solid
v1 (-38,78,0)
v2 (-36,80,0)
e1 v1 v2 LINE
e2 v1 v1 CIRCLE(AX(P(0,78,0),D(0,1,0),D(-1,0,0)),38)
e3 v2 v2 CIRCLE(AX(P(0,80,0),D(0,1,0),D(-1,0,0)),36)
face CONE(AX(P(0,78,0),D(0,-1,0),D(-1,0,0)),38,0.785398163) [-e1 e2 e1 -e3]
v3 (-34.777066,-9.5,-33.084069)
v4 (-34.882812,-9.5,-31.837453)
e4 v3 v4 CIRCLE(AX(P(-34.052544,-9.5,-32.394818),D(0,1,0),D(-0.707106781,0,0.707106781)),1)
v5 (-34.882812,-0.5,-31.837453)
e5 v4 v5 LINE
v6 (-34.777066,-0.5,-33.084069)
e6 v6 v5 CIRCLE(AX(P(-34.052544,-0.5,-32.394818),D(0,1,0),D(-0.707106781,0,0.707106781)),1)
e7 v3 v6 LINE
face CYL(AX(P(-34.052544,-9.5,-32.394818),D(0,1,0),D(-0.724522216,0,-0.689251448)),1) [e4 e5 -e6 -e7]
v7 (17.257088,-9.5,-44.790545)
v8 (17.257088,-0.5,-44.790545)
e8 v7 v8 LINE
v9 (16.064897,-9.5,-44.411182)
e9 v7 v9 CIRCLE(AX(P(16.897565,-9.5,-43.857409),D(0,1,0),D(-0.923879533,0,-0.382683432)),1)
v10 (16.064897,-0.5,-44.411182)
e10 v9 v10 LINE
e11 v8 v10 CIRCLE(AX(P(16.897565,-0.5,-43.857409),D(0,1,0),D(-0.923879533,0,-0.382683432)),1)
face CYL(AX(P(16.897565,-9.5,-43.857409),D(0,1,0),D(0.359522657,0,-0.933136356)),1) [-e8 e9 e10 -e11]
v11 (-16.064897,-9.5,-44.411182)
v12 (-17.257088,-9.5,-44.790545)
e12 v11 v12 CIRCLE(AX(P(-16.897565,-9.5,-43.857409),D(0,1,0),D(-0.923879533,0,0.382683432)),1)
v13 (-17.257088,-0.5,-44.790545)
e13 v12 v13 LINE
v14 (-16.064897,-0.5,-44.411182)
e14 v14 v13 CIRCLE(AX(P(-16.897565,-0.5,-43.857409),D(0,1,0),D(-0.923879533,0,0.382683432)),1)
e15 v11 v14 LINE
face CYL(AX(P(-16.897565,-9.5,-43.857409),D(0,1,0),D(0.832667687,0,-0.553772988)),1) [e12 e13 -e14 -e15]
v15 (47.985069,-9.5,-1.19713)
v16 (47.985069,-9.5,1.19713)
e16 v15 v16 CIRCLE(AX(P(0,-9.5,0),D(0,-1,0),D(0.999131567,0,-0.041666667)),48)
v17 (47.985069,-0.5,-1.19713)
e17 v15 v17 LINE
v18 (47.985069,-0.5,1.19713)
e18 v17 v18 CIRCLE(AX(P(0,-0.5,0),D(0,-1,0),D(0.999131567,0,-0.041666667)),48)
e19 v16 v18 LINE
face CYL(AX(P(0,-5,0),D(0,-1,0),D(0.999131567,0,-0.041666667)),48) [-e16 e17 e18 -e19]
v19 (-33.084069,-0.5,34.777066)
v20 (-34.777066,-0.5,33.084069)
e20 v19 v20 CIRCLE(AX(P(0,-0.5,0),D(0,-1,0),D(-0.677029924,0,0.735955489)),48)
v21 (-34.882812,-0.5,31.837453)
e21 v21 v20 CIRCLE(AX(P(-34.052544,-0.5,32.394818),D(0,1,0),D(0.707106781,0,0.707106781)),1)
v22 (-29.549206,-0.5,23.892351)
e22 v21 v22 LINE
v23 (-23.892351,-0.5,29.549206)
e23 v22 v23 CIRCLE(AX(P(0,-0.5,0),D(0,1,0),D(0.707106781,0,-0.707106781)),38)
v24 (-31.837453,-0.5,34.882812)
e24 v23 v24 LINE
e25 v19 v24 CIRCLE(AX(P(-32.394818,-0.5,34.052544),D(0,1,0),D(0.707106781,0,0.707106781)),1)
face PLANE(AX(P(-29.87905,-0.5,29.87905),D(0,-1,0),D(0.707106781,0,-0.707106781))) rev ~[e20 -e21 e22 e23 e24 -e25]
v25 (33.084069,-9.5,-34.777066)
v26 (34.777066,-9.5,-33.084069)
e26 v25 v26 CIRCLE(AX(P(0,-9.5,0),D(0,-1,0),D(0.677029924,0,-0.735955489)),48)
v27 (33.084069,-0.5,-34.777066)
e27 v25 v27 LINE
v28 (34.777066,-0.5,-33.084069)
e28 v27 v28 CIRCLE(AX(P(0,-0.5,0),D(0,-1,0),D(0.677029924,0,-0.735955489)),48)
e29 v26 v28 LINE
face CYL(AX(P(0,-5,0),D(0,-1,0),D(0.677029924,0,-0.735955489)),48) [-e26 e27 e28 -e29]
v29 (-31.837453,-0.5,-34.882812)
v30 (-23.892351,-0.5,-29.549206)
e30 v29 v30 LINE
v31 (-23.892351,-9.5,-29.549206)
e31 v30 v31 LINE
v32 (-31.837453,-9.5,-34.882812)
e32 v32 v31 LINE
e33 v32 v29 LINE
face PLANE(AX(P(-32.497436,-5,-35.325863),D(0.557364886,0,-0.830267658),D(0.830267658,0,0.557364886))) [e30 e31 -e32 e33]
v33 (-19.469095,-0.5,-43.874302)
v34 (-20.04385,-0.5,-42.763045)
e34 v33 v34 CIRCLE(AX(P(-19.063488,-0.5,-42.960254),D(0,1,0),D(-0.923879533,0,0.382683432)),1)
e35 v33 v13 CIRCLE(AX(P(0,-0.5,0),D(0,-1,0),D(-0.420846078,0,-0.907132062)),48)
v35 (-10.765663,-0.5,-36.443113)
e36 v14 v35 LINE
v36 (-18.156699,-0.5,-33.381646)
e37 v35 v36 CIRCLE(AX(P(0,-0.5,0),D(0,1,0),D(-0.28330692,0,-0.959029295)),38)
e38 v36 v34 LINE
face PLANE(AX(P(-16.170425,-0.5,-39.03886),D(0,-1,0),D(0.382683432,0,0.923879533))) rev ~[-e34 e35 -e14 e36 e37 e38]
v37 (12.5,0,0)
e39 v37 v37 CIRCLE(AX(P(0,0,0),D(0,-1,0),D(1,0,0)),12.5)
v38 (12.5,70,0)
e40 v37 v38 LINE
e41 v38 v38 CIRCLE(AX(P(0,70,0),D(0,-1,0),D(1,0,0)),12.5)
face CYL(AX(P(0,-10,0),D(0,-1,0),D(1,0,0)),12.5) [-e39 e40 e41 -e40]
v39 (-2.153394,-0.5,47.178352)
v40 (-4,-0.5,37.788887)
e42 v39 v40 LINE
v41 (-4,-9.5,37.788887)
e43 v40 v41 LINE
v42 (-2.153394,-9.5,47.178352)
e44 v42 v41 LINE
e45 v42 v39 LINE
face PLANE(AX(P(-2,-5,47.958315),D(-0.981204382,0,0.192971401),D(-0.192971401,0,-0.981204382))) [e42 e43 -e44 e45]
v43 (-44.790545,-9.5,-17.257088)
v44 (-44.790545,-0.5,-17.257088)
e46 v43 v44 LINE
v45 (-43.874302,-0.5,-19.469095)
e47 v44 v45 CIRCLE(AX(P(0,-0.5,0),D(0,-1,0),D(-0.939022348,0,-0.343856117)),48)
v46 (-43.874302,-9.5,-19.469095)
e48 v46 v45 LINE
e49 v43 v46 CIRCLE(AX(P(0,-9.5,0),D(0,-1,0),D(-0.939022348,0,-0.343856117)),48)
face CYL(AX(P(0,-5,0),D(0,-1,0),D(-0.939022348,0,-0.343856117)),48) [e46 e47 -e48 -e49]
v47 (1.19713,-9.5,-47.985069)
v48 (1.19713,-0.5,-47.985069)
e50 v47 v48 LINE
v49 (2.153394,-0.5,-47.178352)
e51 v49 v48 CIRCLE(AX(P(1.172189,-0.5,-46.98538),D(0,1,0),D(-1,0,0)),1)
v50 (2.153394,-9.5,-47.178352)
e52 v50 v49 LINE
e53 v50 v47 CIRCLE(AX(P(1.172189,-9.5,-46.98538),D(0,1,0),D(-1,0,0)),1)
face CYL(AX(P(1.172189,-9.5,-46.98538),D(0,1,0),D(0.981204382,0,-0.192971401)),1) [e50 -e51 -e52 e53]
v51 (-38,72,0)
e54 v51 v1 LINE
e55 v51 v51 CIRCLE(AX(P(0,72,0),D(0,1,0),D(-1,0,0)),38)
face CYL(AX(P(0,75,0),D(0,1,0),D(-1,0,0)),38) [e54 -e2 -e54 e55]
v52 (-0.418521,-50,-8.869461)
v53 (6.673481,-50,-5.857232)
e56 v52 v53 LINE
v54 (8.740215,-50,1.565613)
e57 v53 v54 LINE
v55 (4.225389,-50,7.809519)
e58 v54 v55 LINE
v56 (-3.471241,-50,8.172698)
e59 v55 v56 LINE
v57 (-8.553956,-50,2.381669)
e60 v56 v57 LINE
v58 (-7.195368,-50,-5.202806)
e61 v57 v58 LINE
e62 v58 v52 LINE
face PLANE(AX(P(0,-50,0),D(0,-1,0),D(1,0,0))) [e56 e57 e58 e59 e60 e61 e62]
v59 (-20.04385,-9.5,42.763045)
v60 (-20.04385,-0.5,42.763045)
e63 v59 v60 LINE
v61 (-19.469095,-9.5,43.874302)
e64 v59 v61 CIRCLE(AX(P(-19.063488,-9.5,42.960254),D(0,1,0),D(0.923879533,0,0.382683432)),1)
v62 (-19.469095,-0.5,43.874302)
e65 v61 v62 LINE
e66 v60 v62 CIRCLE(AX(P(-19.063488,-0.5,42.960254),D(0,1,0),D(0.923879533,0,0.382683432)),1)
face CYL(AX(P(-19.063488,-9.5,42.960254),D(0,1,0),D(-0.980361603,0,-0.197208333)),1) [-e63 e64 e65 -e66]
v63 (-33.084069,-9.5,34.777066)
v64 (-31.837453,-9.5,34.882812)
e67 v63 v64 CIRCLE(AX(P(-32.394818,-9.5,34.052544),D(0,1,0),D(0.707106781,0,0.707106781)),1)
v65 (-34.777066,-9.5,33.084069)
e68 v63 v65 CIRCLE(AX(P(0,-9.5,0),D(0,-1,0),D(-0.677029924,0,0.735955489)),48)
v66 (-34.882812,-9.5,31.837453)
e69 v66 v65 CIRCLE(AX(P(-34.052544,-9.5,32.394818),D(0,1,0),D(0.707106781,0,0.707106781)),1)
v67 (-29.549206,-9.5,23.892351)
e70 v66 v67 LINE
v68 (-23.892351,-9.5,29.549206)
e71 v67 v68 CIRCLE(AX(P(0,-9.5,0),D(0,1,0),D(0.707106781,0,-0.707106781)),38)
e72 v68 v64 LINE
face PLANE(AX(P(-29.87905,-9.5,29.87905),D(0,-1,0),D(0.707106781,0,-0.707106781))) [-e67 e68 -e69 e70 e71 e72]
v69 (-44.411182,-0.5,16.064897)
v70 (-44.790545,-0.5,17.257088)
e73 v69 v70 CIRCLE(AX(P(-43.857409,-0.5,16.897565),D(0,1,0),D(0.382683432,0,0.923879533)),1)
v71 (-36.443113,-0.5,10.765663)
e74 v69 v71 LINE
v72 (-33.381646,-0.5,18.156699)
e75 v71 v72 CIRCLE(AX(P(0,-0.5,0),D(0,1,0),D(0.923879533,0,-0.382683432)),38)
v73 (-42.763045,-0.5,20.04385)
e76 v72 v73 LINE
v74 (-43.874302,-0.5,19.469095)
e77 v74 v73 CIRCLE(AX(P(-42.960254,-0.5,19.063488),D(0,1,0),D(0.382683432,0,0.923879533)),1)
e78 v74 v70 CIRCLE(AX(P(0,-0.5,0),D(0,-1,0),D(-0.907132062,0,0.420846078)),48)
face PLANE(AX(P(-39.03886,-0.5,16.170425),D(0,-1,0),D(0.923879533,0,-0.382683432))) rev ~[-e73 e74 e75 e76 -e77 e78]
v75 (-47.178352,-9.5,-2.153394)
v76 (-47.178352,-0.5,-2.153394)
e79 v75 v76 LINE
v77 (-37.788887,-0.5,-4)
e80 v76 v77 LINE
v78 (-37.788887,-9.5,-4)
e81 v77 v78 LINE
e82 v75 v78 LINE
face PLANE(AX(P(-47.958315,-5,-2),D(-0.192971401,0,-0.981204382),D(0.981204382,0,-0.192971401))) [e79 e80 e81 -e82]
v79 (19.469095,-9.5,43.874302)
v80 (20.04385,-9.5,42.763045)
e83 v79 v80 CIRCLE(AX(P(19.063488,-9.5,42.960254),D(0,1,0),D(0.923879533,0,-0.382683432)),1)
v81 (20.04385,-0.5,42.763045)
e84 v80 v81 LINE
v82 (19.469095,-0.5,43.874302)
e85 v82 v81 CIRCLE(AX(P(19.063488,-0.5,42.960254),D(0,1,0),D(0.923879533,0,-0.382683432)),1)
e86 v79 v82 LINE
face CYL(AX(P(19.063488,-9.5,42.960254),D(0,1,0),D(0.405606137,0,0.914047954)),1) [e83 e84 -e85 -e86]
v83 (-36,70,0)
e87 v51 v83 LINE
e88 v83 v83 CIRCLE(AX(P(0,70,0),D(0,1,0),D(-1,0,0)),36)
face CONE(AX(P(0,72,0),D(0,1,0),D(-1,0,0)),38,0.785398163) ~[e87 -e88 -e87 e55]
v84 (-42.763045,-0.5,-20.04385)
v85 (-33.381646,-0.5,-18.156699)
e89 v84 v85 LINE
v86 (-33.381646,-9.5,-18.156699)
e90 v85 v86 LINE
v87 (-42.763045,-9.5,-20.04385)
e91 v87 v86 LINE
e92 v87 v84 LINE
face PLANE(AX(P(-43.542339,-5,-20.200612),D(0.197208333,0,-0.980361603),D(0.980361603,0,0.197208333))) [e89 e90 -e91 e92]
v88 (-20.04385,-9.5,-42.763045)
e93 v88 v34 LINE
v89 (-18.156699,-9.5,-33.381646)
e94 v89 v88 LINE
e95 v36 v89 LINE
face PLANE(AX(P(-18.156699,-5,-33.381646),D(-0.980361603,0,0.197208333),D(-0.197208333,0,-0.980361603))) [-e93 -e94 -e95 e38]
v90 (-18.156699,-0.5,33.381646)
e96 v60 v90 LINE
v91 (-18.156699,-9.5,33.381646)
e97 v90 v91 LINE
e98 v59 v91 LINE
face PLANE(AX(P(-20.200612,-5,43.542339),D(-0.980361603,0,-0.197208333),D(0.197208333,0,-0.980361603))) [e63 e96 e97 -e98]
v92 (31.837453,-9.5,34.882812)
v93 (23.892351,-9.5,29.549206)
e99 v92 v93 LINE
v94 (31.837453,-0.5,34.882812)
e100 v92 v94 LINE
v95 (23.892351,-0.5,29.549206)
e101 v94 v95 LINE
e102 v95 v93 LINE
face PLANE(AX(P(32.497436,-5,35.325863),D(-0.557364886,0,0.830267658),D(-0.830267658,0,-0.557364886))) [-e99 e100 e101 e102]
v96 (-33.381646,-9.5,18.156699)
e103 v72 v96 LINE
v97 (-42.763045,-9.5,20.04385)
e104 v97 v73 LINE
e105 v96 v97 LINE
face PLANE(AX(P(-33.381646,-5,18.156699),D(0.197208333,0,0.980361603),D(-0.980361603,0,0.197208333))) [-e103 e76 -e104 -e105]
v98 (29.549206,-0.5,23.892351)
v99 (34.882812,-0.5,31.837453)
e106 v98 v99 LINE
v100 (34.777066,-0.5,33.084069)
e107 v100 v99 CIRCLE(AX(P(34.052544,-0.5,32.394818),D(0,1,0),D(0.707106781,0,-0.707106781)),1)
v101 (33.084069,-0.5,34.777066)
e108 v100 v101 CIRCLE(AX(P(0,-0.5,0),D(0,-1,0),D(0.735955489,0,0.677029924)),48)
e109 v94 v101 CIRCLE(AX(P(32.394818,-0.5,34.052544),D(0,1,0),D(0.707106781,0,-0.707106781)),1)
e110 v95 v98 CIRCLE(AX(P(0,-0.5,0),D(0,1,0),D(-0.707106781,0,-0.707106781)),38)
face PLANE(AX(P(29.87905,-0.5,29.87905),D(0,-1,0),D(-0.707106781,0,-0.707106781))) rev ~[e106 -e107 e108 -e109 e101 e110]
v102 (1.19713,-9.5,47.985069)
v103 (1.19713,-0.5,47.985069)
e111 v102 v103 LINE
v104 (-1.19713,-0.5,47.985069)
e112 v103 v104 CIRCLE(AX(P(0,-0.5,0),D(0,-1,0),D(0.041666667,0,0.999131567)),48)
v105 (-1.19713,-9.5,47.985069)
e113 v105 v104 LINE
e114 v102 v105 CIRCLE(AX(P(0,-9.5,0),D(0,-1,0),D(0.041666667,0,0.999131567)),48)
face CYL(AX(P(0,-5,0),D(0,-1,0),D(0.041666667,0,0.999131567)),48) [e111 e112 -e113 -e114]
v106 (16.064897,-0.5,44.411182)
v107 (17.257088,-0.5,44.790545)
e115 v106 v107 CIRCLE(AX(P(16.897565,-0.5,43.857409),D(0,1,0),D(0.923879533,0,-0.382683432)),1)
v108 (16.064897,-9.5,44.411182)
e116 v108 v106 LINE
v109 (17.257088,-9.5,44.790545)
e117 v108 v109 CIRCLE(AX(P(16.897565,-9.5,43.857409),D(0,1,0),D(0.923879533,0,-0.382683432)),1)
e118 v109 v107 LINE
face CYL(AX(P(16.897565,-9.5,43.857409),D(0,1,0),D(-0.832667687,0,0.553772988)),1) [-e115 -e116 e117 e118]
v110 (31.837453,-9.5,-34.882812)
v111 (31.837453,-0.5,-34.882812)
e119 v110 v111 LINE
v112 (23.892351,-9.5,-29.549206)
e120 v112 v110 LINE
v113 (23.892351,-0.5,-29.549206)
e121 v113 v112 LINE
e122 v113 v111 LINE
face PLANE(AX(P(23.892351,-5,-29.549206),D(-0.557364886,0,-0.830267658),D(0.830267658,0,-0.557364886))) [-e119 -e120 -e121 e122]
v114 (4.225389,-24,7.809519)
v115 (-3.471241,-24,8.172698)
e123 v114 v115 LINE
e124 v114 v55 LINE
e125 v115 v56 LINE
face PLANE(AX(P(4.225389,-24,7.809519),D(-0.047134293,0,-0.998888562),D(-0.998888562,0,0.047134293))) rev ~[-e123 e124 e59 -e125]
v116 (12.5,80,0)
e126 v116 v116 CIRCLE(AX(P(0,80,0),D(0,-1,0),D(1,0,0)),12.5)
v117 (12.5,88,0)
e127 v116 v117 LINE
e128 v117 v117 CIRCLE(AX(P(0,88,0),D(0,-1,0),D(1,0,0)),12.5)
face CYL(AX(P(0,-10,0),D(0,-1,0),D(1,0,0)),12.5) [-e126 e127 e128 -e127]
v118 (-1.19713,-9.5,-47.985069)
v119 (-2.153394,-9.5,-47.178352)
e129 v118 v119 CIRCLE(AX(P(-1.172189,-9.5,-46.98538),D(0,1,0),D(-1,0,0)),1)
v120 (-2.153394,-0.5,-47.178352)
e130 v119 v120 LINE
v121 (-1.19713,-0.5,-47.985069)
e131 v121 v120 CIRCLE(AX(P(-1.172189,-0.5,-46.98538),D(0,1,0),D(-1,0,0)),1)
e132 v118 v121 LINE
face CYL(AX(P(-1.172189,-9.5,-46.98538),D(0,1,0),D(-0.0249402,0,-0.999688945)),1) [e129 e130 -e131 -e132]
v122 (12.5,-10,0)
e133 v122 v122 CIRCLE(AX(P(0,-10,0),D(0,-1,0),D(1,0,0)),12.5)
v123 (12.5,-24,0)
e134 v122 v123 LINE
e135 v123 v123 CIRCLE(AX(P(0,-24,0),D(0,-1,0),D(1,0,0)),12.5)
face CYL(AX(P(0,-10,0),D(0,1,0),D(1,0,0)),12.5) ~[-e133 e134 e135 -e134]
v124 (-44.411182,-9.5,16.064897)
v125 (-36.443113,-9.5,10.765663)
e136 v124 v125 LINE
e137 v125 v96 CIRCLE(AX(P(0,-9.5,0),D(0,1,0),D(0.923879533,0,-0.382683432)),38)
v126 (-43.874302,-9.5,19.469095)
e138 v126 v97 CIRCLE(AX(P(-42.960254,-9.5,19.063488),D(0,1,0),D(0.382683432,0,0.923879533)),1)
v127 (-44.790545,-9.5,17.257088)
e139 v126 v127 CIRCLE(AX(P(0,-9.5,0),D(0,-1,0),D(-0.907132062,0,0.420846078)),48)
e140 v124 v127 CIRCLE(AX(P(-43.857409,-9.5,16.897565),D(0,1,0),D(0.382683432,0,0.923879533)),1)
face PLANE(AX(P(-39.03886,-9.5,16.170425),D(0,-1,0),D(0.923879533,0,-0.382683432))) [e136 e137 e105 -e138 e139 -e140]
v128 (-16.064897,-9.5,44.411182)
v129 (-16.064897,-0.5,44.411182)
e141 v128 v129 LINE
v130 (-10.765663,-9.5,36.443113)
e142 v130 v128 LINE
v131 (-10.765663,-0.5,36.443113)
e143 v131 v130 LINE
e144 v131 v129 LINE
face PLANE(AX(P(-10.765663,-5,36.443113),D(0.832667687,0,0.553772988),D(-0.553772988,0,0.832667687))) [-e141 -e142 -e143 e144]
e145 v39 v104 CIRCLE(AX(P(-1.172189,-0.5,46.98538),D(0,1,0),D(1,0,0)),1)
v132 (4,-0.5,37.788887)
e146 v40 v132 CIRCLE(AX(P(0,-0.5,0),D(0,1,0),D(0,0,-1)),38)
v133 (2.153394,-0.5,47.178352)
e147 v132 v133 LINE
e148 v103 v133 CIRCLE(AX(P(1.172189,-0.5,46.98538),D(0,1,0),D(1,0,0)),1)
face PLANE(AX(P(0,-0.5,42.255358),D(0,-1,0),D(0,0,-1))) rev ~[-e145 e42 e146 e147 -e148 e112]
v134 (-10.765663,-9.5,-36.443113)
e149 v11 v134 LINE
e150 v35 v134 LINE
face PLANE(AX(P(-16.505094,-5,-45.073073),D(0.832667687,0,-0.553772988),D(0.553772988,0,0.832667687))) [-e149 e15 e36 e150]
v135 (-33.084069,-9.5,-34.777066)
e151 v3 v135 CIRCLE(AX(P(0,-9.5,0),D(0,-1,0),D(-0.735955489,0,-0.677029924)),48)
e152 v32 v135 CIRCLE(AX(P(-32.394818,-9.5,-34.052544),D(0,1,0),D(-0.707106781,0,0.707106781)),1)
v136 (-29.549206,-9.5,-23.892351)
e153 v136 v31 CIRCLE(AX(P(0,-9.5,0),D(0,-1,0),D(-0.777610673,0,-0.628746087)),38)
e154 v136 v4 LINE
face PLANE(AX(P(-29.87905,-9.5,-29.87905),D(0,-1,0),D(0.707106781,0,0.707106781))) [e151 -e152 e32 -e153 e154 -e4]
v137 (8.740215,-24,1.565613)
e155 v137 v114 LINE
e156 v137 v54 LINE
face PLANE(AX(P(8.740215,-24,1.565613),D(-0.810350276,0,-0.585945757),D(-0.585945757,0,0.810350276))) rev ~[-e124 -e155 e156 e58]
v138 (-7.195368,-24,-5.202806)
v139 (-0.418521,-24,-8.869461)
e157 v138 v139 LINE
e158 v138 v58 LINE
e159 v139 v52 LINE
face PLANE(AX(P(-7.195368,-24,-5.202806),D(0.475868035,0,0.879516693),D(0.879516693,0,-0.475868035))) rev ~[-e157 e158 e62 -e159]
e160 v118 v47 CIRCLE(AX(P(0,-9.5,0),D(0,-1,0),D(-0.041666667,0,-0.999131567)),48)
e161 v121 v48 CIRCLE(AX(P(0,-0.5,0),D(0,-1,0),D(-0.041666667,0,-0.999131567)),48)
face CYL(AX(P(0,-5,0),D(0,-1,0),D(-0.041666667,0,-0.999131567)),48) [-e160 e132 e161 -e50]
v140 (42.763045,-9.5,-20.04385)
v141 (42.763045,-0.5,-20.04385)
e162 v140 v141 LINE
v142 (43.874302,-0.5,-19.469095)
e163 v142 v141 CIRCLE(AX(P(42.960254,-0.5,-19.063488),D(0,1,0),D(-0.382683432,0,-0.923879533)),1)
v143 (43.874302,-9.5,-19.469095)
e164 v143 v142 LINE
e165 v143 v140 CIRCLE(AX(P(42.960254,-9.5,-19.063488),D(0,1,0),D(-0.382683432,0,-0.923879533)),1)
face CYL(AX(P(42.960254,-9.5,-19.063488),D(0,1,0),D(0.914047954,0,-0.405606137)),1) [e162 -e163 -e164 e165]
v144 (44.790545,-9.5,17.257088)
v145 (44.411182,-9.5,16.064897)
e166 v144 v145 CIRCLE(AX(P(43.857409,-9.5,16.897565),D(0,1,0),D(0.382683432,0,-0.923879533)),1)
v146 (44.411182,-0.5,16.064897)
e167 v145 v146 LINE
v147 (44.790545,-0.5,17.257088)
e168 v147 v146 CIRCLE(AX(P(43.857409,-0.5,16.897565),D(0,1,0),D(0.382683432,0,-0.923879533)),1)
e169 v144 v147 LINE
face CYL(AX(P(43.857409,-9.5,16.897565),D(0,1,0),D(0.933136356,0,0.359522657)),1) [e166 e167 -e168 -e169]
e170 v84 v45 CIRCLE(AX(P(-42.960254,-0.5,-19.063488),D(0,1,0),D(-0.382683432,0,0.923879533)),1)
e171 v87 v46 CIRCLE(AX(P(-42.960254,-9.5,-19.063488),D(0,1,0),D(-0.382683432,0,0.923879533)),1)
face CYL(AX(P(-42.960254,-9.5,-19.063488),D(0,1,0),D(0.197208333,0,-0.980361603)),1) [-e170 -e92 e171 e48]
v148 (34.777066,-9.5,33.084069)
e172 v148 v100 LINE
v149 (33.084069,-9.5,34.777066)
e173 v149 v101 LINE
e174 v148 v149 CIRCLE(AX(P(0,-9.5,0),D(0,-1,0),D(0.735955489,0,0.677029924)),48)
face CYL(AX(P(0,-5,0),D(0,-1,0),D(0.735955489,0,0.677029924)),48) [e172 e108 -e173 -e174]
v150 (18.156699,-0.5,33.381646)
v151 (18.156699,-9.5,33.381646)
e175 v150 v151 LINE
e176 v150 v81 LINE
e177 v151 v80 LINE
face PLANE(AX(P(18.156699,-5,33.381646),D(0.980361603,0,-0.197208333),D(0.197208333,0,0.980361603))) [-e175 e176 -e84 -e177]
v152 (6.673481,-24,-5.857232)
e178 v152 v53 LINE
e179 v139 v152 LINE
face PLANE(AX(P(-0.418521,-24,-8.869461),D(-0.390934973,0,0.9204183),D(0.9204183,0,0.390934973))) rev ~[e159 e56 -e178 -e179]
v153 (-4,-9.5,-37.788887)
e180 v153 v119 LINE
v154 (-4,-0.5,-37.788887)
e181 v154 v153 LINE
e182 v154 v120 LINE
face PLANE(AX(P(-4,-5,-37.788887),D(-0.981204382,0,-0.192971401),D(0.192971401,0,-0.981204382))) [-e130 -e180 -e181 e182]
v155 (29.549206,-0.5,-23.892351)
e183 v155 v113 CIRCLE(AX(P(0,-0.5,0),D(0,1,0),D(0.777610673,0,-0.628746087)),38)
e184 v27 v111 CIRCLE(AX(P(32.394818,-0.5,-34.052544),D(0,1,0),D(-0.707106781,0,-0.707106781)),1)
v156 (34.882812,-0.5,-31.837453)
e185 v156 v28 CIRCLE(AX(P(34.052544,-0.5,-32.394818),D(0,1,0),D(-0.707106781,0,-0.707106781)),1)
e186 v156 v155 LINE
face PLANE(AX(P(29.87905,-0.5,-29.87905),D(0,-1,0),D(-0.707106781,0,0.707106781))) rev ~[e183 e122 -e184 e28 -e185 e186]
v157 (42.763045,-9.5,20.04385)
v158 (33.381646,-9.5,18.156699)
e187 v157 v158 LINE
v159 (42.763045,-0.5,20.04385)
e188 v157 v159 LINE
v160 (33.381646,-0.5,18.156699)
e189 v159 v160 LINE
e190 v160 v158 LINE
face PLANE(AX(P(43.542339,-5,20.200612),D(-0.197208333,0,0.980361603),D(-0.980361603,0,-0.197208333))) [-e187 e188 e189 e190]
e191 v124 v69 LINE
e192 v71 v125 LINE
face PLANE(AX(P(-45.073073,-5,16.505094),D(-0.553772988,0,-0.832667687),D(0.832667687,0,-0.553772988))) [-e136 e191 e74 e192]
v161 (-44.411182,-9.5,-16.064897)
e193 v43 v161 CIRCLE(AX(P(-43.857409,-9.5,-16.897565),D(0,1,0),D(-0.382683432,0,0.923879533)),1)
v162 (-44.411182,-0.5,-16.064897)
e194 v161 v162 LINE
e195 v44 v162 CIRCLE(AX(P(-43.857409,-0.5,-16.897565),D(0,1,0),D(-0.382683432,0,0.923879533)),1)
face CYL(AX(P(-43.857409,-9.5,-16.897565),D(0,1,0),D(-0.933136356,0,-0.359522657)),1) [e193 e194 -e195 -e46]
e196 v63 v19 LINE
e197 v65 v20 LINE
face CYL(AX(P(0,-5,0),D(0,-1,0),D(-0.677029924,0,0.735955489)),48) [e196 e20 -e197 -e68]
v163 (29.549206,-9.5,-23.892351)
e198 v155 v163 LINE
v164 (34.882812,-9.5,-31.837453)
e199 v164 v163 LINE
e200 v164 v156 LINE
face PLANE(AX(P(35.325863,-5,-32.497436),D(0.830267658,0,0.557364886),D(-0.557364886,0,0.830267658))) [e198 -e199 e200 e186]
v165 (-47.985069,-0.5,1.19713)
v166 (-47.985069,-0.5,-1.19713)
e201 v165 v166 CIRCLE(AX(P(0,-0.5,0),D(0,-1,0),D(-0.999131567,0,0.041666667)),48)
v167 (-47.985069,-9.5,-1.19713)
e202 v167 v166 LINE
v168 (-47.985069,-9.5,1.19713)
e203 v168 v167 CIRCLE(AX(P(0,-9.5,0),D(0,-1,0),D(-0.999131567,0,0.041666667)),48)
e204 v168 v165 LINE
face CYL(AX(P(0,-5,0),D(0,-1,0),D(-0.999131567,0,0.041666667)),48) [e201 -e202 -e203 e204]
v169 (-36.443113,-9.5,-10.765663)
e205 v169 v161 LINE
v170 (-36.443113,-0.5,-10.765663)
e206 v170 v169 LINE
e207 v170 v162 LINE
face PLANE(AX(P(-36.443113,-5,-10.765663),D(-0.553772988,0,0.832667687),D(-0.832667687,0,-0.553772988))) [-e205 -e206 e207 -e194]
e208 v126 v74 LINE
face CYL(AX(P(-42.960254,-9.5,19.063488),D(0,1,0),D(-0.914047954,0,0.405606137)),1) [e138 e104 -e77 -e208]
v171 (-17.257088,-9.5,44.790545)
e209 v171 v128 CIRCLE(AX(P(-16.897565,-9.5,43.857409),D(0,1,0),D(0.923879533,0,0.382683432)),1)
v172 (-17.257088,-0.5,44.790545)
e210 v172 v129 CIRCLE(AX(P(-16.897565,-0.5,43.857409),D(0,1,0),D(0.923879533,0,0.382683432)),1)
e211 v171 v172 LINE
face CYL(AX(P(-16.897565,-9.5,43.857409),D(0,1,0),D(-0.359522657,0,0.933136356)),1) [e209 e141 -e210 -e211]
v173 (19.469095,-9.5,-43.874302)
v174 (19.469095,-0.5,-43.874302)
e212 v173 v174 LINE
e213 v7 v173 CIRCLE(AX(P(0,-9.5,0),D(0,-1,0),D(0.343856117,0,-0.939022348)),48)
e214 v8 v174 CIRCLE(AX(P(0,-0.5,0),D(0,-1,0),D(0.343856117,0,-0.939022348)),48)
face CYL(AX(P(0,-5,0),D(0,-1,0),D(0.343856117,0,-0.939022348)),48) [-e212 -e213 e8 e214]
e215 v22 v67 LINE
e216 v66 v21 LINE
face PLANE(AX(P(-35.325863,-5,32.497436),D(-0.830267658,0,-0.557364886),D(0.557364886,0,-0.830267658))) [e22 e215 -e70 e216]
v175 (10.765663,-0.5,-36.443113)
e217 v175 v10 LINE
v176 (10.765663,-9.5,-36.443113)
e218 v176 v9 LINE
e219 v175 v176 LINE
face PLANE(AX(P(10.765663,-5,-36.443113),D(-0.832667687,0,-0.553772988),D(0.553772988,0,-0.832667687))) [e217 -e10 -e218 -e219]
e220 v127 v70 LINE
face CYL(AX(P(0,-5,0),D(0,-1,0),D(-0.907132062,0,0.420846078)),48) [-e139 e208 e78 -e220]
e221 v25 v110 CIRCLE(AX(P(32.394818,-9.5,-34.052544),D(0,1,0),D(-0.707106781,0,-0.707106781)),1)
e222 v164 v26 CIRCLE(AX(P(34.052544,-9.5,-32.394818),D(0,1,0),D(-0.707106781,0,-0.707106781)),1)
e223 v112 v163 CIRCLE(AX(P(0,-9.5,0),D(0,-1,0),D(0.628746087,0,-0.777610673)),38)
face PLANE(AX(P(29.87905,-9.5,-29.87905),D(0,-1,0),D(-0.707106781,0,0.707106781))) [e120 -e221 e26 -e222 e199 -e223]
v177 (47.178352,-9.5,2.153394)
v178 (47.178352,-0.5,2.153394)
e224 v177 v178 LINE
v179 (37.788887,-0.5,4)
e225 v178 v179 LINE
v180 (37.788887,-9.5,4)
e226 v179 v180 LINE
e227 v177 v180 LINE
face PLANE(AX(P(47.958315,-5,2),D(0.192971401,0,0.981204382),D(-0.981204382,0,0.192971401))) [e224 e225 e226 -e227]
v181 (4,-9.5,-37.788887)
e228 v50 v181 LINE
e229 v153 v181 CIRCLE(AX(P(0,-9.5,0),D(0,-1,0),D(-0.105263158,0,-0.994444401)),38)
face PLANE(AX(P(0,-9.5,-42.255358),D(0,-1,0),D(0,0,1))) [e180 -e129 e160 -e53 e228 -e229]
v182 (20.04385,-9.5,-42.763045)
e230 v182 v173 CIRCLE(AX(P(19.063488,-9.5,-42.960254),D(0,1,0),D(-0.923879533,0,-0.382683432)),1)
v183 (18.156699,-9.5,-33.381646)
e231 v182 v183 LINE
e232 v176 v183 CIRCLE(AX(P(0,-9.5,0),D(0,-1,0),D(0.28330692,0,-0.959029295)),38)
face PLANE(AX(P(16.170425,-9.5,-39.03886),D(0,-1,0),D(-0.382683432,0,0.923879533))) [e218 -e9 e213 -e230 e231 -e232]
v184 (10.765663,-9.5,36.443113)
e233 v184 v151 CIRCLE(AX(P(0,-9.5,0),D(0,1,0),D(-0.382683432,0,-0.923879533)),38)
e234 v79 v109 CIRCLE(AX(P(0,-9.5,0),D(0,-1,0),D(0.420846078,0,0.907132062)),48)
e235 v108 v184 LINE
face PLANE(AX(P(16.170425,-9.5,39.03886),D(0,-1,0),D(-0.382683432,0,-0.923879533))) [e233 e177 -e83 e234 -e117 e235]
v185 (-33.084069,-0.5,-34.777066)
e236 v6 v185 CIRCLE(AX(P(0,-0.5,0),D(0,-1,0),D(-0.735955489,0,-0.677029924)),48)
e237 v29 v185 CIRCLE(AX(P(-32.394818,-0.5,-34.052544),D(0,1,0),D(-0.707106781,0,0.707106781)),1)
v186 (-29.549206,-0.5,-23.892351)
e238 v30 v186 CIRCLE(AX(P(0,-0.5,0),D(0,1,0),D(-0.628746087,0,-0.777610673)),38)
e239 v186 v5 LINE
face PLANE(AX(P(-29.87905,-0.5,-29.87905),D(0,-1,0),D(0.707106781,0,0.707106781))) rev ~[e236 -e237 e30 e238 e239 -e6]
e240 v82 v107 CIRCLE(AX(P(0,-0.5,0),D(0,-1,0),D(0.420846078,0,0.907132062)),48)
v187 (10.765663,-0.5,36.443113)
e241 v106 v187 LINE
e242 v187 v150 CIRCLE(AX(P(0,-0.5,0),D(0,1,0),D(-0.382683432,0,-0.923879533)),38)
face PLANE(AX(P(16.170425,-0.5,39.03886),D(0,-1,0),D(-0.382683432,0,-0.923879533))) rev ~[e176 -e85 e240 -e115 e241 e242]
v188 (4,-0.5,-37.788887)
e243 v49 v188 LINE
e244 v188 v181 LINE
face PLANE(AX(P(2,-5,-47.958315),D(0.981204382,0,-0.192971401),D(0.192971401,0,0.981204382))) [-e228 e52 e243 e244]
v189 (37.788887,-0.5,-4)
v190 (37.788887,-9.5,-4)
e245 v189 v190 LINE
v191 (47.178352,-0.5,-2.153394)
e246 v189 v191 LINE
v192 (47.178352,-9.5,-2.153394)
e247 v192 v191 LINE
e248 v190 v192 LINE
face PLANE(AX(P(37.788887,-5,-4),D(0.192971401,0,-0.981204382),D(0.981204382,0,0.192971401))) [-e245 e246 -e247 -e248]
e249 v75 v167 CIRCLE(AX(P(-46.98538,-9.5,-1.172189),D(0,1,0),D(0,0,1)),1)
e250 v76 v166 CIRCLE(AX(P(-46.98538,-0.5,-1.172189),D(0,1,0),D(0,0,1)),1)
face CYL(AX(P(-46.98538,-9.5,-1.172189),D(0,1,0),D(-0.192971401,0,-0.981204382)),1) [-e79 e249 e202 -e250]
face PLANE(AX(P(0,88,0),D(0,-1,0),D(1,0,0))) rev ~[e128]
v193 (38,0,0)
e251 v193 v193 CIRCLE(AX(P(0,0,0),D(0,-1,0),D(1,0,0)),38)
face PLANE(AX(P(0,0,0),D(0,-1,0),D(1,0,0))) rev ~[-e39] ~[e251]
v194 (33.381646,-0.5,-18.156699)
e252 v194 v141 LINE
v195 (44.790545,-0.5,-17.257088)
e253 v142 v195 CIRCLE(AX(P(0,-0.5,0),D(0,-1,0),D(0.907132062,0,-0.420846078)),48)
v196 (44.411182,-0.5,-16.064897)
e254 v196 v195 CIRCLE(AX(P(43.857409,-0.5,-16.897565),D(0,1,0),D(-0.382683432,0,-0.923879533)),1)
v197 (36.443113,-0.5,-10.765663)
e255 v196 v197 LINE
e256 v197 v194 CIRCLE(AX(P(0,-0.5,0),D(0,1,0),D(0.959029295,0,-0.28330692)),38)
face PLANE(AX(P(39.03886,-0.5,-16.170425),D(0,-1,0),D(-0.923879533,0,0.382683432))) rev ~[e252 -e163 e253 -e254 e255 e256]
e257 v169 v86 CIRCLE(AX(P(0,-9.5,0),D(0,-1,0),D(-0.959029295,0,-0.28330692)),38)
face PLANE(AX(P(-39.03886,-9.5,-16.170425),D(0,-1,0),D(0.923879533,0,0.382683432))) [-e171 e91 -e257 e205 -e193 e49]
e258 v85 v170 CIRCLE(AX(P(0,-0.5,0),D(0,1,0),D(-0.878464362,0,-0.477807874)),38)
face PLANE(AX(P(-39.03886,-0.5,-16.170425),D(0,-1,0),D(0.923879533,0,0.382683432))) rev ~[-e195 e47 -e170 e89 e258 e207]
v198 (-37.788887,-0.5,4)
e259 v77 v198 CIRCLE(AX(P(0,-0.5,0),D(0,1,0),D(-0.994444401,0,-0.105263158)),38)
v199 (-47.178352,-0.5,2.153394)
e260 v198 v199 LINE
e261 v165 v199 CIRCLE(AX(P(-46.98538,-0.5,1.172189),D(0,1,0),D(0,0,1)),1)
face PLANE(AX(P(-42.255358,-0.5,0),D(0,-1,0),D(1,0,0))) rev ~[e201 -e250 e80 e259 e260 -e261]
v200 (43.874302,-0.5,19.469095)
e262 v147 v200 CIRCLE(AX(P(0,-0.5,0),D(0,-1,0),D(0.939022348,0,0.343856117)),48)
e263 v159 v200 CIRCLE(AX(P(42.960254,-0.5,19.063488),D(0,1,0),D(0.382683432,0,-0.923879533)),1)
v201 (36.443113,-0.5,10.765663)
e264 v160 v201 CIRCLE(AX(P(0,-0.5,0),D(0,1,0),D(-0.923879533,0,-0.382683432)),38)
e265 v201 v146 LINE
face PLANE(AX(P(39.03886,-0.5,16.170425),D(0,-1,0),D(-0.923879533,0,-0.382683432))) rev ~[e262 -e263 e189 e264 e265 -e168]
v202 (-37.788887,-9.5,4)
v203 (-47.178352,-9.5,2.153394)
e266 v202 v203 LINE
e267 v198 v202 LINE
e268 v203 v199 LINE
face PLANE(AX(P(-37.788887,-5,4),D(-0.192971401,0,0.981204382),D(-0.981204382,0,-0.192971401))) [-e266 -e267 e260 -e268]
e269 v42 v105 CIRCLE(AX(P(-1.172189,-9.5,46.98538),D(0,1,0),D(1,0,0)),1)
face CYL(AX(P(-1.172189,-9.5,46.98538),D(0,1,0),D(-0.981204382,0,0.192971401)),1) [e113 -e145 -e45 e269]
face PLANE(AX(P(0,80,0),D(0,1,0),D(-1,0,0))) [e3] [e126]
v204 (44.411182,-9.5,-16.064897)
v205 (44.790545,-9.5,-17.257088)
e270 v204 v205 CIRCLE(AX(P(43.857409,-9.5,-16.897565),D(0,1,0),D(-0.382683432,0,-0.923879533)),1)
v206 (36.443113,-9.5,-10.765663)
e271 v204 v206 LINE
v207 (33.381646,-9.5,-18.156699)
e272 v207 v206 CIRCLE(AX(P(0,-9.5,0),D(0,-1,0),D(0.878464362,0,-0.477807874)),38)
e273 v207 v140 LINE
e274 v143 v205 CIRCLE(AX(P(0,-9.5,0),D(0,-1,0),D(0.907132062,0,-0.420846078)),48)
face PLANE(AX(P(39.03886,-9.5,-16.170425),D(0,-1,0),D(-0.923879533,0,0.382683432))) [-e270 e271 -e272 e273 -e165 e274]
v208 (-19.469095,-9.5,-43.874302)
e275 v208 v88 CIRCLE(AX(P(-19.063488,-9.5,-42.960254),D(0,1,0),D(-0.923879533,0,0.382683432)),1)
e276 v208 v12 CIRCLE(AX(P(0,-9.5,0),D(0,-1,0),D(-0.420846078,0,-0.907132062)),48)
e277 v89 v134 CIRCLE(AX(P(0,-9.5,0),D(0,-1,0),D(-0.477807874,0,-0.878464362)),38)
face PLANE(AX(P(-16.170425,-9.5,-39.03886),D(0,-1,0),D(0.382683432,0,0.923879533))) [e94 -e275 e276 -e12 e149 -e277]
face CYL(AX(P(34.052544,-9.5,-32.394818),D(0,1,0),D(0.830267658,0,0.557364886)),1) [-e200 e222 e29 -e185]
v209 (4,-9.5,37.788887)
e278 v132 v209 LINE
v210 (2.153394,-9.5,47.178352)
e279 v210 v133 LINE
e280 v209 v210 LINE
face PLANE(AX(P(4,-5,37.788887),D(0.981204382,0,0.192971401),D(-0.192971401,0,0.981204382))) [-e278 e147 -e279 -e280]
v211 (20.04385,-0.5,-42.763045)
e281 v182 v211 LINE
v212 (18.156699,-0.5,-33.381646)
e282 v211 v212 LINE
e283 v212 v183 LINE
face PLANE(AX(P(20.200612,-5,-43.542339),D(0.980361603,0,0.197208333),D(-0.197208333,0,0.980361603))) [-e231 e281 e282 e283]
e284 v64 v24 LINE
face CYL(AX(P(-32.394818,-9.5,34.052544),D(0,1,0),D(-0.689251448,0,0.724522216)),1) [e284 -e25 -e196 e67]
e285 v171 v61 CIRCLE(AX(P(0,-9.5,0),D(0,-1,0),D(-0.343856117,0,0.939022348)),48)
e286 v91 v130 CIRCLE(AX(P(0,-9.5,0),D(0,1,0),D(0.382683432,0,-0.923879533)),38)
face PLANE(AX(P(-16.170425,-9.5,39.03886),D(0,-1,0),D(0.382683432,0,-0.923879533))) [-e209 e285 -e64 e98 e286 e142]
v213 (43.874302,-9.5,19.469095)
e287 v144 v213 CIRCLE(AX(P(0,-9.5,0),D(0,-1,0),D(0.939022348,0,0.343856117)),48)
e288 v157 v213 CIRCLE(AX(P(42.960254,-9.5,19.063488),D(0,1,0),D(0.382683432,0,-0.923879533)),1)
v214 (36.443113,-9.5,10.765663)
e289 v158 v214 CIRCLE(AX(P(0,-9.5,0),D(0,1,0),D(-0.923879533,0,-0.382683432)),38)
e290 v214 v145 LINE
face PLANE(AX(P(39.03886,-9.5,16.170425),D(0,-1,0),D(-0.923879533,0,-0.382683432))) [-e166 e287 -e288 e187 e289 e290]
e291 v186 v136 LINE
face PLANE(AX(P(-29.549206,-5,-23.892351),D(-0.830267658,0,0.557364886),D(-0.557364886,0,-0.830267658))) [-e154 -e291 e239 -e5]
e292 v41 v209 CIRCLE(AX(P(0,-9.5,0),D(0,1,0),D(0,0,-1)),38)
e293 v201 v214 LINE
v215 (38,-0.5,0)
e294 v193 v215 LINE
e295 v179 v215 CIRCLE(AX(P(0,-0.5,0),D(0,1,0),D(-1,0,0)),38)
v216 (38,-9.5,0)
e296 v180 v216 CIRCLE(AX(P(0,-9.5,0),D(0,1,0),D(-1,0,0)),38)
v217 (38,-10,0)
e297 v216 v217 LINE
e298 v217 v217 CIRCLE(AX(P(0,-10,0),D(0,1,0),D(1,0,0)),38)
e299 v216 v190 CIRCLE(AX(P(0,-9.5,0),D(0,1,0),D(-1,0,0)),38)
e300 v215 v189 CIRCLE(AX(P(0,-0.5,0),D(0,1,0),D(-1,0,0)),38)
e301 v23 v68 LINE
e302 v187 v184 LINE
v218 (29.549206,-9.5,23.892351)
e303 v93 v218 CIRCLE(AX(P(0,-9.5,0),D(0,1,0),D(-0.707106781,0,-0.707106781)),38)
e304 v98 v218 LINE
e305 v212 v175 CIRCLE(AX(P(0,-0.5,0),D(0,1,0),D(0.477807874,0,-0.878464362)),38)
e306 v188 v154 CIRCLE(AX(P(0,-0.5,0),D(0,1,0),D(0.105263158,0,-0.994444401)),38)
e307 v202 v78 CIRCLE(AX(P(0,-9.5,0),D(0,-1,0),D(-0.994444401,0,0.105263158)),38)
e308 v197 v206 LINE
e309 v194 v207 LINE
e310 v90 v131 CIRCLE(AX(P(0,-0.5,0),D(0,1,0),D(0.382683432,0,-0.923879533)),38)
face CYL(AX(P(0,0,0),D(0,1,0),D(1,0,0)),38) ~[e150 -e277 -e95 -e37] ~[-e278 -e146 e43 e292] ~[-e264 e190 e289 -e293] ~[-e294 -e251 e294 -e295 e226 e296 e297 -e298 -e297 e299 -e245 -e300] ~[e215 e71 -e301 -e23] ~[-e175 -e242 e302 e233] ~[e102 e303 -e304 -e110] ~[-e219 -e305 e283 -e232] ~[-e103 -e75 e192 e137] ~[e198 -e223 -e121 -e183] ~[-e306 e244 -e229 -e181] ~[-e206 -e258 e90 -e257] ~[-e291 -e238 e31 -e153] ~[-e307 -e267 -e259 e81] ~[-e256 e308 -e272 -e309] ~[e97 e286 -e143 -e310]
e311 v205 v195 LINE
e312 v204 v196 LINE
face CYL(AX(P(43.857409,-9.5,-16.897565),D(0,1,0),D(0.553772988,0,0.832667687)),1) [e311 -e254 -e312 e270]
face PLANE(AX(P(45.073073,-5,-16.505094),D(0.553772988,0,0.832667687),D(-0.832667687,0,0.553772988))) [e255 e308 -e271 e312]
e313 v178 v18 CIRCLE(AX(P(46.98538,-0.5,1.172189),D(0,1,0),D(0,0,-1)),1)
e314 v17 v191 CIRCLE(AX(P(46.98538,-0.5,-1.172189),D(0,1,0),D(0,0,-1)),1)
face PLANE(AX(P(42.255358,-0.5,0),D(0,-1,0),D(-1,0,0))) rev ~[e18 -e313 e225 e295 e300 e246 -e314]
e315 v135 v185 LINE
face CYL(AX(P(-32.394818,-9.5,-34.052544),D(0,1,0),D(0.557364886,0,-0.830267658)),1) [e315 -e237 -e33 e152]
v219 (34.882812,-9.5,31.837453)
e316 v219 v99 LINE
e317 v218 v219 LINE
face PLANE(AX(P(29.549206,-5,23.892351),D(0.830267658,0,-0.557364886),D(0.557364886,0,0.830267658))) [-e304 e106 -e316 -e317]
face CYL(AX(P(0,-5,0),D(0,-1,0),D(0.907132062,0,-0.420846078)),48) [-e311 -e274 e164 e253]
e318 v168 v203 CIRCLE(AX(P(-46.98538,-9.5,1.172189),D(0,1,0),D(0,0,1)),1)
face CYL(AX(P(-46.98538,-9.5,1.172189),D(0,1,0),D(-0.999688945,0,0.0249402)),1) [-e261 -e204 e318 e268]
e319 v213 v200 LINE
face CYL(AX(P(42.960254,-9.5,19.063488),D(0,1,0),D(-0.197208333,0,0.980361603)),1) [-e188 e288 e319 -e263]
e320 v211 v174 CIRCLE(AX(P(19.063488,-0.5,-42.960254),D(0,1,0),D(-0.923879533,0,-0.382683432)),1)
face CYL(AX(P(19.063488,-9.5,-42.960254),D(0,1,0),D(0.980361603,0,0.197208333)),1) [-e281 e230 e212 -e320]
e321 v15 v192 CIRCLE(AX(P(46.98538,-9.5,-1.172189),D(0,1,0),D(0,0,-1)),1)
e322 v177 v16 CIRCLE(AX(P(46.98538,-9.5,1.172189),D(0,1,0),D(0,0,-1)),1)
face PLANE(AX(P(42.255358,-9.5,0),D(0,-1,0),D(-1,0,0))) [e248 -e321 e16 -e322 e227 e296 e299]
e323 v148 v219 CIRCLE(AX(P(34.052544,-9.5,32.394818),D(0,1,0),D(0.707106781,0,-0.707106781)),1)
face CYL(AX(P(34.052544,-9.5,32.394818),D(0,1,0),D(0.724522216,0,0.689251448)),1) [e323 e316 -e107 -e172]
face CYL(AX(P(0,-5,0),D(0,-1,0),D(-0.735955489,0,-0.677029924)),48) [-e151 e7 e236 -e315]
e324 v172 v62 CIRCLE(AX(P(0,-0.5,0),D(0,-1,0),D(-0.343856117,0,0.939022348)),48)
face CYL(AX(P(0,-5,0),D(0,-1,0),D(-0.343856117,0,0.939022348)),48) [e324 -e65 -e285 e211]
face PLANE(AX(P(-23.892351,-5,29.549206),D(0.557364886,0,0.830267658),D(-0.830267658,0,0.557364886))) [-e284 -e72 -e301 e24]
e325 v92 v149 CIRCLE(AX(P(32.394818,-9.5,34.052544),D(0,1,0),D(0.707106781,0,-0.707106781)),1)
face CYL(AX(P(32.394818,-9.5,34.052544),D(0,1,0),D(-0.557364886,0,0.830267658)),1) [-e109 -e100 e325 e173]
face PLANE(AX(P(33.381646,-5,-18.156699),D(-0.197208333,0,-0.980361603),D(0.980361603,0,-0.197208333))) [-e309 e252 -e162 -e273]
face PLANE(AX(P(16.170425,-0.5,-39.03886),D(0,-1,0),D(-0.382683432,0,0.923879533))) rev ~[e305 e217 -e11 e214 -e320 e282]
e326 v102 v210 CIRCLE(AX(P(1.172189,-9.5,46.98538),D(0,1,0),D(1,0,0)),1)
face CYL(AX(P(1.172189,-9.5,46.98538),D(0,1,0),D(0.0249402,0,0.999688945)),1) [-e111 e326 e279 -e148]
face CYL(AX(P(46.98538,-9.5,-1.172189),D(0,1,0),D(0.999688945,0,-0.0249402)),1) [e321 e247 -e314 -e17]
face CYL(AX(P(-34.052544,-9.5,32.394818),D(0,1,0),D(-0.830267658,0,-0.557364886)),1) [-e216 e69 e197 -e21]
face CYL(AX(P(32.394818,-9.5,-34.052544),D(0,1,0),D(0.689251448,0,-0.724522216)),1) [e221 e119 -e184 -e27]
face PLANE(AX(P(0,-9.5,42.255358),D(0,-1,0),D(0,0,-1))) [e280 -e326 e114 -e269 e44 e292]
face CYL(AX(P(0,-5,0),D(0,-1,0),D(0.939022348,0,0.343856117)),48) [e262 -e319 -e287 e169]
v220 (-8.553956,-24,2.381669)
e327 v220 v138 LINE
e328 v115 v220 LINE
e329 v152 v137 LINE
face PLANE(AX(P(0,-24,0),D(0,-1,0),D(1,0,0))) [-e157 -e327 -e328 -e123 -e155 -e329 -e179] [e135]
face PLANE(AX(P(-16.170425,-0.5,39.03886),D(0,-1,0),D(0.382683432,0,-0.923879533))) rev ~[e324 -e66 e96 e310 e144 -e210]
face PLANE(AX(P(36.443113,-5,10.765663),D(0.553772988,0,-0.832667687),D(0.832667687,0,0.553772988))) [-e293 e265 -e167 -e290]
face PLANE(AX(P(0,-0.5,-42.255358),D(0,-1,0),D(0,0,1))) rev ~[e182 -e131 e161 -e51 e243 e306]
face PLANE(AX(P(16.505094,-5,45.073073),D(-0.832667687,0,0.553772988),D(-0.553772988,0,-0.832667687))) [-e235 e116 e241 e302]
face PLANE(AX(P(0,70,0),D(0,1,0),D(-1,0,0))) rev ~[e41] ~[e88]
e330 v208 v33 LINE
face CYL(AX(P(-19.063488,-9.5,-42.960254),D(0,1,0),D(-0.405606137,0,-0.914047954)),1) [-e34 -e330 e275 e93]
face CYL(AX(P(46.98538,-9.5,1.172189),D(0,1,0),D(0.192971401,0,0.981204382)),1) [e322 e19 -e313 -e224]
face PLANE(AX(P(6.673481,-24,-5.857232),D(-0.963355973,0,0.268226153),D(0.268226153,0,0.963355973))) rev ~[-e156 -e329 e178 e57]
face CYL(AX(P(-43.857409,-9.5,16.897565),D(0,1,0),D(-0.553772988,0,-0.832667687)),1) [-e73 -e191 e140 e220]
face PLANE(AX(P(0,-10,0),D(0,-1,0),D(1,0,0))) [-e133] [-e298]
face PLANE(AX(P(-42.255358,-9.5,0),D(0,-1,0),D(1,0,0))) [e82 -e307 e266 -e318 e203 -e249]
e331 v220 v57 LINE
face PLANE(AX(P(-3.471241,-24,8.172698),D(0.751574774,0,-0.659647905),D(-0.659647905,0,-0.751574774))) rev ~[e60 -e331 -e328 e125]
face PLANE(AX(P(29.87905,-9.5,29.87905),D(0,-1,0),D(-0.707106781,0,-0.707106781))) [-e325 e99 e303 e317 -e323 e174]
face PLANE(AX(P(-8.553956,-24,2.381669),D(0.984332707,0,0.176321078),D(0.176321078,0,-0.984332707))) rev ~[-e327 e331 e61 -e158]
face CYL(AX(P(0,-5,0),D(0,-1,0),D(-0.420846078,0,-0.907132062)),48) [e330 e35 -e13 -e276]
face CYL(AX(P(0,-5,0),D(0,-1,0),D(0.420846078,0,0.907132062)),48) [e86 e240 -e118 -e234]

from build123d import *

# Parameters (mm, degrees)
F0_R      = 38
F1_DEPTH  = 10
F4_DEPTH  = 4.5
F5_R      = 1
F6_COUNT  = 16
F7_R      = 12.5
F8_DEPTH  = 98
F9_DEPTH  = 14
F11_DEPTH = 26
F13_R     = 38
F14_DEPTH = 5
F15_SIZE  = 2


with BuildPart() as f1:
    # F0 (on Front) → F1 (new body)
    with BuildSketch(Plane.XZ):
        Circle(F0_R)
    extrude(amount=F1_DEPTH)

    # F3 (on mid) → F4 (join, symmetric)
    with BuildSketch(Plane.XZ.offset(5)):
        with BuildLine():
            Line((-47.9583152331, -2), (-37.7888872554, -4))
            Line((-37.7888872554, -4), (-37.7888872554, 4))
            Line((-37.7888872554, 4), (-47.9583152331, 2))
            ThreePointArc((-47.9583152331, 2), (-48, 0), (-47.9583152331, -2))
        make_face()
    extrude(amount=F4_DEPTH, both=True)

    # F5
    f5_edges = [f1.edges().sort_by_distance(p)[0] for p in [
        (-47.958315, -5, -2),
        (-47.958315, -5, 2),
    ]]
    fillet(f5_edges, radius=F5_R)


with BuildPart() as f6_1:
    # F6: instance of F1
    add(f1.part.rotate(Axis((0, 0, 0), (0, -1, 0)), 1 * 360 / F6_COUNT))


with BuildPart() as f6_2:
    # F6: instance of F1
    add(f1.part.rotate(Axis((0, 0, 0), (0, -1, 0)), 2 * 360 / F6_COUNT))


with BuildPart() as f6_3:
    # F6: instance of F1
    add(f1.part.rotate(Axis((0, 0, 0), (0, -1, 0)), 3 * 360 / F6_COUNT))


with BuildPart() as f6_4:
    # F6: instance of F1
    add(f1.part.rotate(Axis((0, 0, 0), (0, -1, 0)), 4 * 360 / F6_COUNT))


with BuildPart() as f6_5:
    # F6: instance of F1
    add(f1.part.rotate(Axis((0, 0, 0), (0, -1, 0)), 5 * 360 / F6_COUNT))


with BuildPart() as f6_6:
    # F6: instance of F1
    add(f1.part.rotate(Axis((0, 0, 0), (0, -1, 0)), 6 * 360 / F6_COUNT))


with BuildPart() as f6_7:
    # F6: instance of F1
    add(f1.part.rotate(Axis((0, 0, 0), (0, -1, 0)), 7 * 360 / F6_COUNT))


with BuildPart() as f6_8:
    # F6: instance of F1
    add(f1.part.rotate(Axis((0, 0, 0), (0, -1, 0)), 8 * 360 / F6_COUNT))


with BuildPart() as f6_9:
    # F6: instance of F1
    add(f1.part.rotate(Axis((0, 0, 0), (0, -1, 0)), 9 * 360 / F6_COUNT))


with BuildPart() as f6_10:
    # F6: instance of F1
    add(f1.part.rotate(Axis((0, 0, 0), (0, -1, 0)), 10 * 360 / F6_COUNT))


with BuildPart() as f6_11:
    # F6: instance of F1
    add(f1.part.rotate(Axis((0, 0, 0), (0, -1, 0)), 11 * 360 / F6_COUNT))


with BuildPart() as f6_12:
    # F6: instance of F1
    add(f1.part.rotate(Axis((0, 0, 0), (0, -1, 0)), 12 * 360 / F6_COUNT))


with BuildPart() as f6_13:
    # F6: instance of F1
    add(f1.part.rotate(Axis((0, 0, 0), (0, -1, 0)), 13 * 360 / F6_COUNT))


with BuildPart() as f6_14:
    # F6: instance of F1
    add(f1.part.rotate(Axis((0, 0, 0), (0, -1, 0)), 14 * 360 / F6_COUNT))


with BuildPart() as f6_15:
    # F6: instance of F1
    add(f1.part.rotate(Axis((0, 0, 0), (0, -1, 0)), 15 * 360 / F6_COUNT))


with BuildPart() as f8:
    # F7 (on face) → F8 (new body)
    with BuildSketch(Plane.XZ.offset(10)):
        Circle(F7_R)
    extrude(amount=-F8_DEPTH)


with BuildPart() as f9:
    # F9 (new): a face of the model
    f9_faces = [f8.part.faces().sort_by_distance(p)[0] for p in [
        (0, -10, 0),
    ]]
    extrude(f9_faces, amount=F9_DEPTH)

    # F10 (on face) → F11 (join)
    with BuildSketch(Plane.XZ.offset(24)):
        Polygon((8.7402150444, 1.5656130559), (4.2253893698, 7.8095190592), (-3.4712406825, 8.1726979258), (-8.5539557005, 2.3816685616), (-7.1953676071, -5.2028058067), (-0.4185209468, -8.8694612846), (6.6734805227, -5.8572315112), align=None)
    extrude(amount=F11_DEPTH)


with BuildPart() as f1_1:
    add(f1.part)

    add(f6_1.part)  # F14 merges F6_1

    add(f6_2.part)  # F14 merges F6_2

    add(f6_3.part)  # F14 merges F6_3

    add(f6_4.part)  # F14 merges F6_4

    add(f6_5.part)  # F14 merges F6_5

    add(f6_6.part)  # F14 merges F6_6

    add(f6_7.part)  # F14 merges F6_7

    add(f6_8.part)  # F14 merges F6_8

    add(f6_9.part)  # F14 merges F6_9

    add(f6_10.part)  # F14 merges F6_10

    add(f6_11.part)  # F14 merges F6_11

    add(f6_12.part)  # F14 merges F6_12

    add(f6_13.part)  # F14 merges F6_13

    add(f6_14.part)  # F14 merges F6_14

    add(f6_15.part)  # F14 merges F6_15

    add(f8.part)  # F14 merges F8

    add(f9.part)  # F14 merges F9
    # F13 (on offset) → F14 (join, symmetric)
    with BuildSketch(Plane(origin=(0, 75, 0), x_dir=(-1, 0, 0), z_dir=(0, 1, 0))):
        Circle(F13_R)
    extrude(amount=F14_DEPTH, both=True)

    # F15
    f15_edges = [f1_1.edges().sort_by_distance(p)[0] for p in [
        (38, 80, 0),
        (38, 70, 0),
    ]]
    chamfer(f15_edges, length=F15_SIZE)


solid = f1_1.part
